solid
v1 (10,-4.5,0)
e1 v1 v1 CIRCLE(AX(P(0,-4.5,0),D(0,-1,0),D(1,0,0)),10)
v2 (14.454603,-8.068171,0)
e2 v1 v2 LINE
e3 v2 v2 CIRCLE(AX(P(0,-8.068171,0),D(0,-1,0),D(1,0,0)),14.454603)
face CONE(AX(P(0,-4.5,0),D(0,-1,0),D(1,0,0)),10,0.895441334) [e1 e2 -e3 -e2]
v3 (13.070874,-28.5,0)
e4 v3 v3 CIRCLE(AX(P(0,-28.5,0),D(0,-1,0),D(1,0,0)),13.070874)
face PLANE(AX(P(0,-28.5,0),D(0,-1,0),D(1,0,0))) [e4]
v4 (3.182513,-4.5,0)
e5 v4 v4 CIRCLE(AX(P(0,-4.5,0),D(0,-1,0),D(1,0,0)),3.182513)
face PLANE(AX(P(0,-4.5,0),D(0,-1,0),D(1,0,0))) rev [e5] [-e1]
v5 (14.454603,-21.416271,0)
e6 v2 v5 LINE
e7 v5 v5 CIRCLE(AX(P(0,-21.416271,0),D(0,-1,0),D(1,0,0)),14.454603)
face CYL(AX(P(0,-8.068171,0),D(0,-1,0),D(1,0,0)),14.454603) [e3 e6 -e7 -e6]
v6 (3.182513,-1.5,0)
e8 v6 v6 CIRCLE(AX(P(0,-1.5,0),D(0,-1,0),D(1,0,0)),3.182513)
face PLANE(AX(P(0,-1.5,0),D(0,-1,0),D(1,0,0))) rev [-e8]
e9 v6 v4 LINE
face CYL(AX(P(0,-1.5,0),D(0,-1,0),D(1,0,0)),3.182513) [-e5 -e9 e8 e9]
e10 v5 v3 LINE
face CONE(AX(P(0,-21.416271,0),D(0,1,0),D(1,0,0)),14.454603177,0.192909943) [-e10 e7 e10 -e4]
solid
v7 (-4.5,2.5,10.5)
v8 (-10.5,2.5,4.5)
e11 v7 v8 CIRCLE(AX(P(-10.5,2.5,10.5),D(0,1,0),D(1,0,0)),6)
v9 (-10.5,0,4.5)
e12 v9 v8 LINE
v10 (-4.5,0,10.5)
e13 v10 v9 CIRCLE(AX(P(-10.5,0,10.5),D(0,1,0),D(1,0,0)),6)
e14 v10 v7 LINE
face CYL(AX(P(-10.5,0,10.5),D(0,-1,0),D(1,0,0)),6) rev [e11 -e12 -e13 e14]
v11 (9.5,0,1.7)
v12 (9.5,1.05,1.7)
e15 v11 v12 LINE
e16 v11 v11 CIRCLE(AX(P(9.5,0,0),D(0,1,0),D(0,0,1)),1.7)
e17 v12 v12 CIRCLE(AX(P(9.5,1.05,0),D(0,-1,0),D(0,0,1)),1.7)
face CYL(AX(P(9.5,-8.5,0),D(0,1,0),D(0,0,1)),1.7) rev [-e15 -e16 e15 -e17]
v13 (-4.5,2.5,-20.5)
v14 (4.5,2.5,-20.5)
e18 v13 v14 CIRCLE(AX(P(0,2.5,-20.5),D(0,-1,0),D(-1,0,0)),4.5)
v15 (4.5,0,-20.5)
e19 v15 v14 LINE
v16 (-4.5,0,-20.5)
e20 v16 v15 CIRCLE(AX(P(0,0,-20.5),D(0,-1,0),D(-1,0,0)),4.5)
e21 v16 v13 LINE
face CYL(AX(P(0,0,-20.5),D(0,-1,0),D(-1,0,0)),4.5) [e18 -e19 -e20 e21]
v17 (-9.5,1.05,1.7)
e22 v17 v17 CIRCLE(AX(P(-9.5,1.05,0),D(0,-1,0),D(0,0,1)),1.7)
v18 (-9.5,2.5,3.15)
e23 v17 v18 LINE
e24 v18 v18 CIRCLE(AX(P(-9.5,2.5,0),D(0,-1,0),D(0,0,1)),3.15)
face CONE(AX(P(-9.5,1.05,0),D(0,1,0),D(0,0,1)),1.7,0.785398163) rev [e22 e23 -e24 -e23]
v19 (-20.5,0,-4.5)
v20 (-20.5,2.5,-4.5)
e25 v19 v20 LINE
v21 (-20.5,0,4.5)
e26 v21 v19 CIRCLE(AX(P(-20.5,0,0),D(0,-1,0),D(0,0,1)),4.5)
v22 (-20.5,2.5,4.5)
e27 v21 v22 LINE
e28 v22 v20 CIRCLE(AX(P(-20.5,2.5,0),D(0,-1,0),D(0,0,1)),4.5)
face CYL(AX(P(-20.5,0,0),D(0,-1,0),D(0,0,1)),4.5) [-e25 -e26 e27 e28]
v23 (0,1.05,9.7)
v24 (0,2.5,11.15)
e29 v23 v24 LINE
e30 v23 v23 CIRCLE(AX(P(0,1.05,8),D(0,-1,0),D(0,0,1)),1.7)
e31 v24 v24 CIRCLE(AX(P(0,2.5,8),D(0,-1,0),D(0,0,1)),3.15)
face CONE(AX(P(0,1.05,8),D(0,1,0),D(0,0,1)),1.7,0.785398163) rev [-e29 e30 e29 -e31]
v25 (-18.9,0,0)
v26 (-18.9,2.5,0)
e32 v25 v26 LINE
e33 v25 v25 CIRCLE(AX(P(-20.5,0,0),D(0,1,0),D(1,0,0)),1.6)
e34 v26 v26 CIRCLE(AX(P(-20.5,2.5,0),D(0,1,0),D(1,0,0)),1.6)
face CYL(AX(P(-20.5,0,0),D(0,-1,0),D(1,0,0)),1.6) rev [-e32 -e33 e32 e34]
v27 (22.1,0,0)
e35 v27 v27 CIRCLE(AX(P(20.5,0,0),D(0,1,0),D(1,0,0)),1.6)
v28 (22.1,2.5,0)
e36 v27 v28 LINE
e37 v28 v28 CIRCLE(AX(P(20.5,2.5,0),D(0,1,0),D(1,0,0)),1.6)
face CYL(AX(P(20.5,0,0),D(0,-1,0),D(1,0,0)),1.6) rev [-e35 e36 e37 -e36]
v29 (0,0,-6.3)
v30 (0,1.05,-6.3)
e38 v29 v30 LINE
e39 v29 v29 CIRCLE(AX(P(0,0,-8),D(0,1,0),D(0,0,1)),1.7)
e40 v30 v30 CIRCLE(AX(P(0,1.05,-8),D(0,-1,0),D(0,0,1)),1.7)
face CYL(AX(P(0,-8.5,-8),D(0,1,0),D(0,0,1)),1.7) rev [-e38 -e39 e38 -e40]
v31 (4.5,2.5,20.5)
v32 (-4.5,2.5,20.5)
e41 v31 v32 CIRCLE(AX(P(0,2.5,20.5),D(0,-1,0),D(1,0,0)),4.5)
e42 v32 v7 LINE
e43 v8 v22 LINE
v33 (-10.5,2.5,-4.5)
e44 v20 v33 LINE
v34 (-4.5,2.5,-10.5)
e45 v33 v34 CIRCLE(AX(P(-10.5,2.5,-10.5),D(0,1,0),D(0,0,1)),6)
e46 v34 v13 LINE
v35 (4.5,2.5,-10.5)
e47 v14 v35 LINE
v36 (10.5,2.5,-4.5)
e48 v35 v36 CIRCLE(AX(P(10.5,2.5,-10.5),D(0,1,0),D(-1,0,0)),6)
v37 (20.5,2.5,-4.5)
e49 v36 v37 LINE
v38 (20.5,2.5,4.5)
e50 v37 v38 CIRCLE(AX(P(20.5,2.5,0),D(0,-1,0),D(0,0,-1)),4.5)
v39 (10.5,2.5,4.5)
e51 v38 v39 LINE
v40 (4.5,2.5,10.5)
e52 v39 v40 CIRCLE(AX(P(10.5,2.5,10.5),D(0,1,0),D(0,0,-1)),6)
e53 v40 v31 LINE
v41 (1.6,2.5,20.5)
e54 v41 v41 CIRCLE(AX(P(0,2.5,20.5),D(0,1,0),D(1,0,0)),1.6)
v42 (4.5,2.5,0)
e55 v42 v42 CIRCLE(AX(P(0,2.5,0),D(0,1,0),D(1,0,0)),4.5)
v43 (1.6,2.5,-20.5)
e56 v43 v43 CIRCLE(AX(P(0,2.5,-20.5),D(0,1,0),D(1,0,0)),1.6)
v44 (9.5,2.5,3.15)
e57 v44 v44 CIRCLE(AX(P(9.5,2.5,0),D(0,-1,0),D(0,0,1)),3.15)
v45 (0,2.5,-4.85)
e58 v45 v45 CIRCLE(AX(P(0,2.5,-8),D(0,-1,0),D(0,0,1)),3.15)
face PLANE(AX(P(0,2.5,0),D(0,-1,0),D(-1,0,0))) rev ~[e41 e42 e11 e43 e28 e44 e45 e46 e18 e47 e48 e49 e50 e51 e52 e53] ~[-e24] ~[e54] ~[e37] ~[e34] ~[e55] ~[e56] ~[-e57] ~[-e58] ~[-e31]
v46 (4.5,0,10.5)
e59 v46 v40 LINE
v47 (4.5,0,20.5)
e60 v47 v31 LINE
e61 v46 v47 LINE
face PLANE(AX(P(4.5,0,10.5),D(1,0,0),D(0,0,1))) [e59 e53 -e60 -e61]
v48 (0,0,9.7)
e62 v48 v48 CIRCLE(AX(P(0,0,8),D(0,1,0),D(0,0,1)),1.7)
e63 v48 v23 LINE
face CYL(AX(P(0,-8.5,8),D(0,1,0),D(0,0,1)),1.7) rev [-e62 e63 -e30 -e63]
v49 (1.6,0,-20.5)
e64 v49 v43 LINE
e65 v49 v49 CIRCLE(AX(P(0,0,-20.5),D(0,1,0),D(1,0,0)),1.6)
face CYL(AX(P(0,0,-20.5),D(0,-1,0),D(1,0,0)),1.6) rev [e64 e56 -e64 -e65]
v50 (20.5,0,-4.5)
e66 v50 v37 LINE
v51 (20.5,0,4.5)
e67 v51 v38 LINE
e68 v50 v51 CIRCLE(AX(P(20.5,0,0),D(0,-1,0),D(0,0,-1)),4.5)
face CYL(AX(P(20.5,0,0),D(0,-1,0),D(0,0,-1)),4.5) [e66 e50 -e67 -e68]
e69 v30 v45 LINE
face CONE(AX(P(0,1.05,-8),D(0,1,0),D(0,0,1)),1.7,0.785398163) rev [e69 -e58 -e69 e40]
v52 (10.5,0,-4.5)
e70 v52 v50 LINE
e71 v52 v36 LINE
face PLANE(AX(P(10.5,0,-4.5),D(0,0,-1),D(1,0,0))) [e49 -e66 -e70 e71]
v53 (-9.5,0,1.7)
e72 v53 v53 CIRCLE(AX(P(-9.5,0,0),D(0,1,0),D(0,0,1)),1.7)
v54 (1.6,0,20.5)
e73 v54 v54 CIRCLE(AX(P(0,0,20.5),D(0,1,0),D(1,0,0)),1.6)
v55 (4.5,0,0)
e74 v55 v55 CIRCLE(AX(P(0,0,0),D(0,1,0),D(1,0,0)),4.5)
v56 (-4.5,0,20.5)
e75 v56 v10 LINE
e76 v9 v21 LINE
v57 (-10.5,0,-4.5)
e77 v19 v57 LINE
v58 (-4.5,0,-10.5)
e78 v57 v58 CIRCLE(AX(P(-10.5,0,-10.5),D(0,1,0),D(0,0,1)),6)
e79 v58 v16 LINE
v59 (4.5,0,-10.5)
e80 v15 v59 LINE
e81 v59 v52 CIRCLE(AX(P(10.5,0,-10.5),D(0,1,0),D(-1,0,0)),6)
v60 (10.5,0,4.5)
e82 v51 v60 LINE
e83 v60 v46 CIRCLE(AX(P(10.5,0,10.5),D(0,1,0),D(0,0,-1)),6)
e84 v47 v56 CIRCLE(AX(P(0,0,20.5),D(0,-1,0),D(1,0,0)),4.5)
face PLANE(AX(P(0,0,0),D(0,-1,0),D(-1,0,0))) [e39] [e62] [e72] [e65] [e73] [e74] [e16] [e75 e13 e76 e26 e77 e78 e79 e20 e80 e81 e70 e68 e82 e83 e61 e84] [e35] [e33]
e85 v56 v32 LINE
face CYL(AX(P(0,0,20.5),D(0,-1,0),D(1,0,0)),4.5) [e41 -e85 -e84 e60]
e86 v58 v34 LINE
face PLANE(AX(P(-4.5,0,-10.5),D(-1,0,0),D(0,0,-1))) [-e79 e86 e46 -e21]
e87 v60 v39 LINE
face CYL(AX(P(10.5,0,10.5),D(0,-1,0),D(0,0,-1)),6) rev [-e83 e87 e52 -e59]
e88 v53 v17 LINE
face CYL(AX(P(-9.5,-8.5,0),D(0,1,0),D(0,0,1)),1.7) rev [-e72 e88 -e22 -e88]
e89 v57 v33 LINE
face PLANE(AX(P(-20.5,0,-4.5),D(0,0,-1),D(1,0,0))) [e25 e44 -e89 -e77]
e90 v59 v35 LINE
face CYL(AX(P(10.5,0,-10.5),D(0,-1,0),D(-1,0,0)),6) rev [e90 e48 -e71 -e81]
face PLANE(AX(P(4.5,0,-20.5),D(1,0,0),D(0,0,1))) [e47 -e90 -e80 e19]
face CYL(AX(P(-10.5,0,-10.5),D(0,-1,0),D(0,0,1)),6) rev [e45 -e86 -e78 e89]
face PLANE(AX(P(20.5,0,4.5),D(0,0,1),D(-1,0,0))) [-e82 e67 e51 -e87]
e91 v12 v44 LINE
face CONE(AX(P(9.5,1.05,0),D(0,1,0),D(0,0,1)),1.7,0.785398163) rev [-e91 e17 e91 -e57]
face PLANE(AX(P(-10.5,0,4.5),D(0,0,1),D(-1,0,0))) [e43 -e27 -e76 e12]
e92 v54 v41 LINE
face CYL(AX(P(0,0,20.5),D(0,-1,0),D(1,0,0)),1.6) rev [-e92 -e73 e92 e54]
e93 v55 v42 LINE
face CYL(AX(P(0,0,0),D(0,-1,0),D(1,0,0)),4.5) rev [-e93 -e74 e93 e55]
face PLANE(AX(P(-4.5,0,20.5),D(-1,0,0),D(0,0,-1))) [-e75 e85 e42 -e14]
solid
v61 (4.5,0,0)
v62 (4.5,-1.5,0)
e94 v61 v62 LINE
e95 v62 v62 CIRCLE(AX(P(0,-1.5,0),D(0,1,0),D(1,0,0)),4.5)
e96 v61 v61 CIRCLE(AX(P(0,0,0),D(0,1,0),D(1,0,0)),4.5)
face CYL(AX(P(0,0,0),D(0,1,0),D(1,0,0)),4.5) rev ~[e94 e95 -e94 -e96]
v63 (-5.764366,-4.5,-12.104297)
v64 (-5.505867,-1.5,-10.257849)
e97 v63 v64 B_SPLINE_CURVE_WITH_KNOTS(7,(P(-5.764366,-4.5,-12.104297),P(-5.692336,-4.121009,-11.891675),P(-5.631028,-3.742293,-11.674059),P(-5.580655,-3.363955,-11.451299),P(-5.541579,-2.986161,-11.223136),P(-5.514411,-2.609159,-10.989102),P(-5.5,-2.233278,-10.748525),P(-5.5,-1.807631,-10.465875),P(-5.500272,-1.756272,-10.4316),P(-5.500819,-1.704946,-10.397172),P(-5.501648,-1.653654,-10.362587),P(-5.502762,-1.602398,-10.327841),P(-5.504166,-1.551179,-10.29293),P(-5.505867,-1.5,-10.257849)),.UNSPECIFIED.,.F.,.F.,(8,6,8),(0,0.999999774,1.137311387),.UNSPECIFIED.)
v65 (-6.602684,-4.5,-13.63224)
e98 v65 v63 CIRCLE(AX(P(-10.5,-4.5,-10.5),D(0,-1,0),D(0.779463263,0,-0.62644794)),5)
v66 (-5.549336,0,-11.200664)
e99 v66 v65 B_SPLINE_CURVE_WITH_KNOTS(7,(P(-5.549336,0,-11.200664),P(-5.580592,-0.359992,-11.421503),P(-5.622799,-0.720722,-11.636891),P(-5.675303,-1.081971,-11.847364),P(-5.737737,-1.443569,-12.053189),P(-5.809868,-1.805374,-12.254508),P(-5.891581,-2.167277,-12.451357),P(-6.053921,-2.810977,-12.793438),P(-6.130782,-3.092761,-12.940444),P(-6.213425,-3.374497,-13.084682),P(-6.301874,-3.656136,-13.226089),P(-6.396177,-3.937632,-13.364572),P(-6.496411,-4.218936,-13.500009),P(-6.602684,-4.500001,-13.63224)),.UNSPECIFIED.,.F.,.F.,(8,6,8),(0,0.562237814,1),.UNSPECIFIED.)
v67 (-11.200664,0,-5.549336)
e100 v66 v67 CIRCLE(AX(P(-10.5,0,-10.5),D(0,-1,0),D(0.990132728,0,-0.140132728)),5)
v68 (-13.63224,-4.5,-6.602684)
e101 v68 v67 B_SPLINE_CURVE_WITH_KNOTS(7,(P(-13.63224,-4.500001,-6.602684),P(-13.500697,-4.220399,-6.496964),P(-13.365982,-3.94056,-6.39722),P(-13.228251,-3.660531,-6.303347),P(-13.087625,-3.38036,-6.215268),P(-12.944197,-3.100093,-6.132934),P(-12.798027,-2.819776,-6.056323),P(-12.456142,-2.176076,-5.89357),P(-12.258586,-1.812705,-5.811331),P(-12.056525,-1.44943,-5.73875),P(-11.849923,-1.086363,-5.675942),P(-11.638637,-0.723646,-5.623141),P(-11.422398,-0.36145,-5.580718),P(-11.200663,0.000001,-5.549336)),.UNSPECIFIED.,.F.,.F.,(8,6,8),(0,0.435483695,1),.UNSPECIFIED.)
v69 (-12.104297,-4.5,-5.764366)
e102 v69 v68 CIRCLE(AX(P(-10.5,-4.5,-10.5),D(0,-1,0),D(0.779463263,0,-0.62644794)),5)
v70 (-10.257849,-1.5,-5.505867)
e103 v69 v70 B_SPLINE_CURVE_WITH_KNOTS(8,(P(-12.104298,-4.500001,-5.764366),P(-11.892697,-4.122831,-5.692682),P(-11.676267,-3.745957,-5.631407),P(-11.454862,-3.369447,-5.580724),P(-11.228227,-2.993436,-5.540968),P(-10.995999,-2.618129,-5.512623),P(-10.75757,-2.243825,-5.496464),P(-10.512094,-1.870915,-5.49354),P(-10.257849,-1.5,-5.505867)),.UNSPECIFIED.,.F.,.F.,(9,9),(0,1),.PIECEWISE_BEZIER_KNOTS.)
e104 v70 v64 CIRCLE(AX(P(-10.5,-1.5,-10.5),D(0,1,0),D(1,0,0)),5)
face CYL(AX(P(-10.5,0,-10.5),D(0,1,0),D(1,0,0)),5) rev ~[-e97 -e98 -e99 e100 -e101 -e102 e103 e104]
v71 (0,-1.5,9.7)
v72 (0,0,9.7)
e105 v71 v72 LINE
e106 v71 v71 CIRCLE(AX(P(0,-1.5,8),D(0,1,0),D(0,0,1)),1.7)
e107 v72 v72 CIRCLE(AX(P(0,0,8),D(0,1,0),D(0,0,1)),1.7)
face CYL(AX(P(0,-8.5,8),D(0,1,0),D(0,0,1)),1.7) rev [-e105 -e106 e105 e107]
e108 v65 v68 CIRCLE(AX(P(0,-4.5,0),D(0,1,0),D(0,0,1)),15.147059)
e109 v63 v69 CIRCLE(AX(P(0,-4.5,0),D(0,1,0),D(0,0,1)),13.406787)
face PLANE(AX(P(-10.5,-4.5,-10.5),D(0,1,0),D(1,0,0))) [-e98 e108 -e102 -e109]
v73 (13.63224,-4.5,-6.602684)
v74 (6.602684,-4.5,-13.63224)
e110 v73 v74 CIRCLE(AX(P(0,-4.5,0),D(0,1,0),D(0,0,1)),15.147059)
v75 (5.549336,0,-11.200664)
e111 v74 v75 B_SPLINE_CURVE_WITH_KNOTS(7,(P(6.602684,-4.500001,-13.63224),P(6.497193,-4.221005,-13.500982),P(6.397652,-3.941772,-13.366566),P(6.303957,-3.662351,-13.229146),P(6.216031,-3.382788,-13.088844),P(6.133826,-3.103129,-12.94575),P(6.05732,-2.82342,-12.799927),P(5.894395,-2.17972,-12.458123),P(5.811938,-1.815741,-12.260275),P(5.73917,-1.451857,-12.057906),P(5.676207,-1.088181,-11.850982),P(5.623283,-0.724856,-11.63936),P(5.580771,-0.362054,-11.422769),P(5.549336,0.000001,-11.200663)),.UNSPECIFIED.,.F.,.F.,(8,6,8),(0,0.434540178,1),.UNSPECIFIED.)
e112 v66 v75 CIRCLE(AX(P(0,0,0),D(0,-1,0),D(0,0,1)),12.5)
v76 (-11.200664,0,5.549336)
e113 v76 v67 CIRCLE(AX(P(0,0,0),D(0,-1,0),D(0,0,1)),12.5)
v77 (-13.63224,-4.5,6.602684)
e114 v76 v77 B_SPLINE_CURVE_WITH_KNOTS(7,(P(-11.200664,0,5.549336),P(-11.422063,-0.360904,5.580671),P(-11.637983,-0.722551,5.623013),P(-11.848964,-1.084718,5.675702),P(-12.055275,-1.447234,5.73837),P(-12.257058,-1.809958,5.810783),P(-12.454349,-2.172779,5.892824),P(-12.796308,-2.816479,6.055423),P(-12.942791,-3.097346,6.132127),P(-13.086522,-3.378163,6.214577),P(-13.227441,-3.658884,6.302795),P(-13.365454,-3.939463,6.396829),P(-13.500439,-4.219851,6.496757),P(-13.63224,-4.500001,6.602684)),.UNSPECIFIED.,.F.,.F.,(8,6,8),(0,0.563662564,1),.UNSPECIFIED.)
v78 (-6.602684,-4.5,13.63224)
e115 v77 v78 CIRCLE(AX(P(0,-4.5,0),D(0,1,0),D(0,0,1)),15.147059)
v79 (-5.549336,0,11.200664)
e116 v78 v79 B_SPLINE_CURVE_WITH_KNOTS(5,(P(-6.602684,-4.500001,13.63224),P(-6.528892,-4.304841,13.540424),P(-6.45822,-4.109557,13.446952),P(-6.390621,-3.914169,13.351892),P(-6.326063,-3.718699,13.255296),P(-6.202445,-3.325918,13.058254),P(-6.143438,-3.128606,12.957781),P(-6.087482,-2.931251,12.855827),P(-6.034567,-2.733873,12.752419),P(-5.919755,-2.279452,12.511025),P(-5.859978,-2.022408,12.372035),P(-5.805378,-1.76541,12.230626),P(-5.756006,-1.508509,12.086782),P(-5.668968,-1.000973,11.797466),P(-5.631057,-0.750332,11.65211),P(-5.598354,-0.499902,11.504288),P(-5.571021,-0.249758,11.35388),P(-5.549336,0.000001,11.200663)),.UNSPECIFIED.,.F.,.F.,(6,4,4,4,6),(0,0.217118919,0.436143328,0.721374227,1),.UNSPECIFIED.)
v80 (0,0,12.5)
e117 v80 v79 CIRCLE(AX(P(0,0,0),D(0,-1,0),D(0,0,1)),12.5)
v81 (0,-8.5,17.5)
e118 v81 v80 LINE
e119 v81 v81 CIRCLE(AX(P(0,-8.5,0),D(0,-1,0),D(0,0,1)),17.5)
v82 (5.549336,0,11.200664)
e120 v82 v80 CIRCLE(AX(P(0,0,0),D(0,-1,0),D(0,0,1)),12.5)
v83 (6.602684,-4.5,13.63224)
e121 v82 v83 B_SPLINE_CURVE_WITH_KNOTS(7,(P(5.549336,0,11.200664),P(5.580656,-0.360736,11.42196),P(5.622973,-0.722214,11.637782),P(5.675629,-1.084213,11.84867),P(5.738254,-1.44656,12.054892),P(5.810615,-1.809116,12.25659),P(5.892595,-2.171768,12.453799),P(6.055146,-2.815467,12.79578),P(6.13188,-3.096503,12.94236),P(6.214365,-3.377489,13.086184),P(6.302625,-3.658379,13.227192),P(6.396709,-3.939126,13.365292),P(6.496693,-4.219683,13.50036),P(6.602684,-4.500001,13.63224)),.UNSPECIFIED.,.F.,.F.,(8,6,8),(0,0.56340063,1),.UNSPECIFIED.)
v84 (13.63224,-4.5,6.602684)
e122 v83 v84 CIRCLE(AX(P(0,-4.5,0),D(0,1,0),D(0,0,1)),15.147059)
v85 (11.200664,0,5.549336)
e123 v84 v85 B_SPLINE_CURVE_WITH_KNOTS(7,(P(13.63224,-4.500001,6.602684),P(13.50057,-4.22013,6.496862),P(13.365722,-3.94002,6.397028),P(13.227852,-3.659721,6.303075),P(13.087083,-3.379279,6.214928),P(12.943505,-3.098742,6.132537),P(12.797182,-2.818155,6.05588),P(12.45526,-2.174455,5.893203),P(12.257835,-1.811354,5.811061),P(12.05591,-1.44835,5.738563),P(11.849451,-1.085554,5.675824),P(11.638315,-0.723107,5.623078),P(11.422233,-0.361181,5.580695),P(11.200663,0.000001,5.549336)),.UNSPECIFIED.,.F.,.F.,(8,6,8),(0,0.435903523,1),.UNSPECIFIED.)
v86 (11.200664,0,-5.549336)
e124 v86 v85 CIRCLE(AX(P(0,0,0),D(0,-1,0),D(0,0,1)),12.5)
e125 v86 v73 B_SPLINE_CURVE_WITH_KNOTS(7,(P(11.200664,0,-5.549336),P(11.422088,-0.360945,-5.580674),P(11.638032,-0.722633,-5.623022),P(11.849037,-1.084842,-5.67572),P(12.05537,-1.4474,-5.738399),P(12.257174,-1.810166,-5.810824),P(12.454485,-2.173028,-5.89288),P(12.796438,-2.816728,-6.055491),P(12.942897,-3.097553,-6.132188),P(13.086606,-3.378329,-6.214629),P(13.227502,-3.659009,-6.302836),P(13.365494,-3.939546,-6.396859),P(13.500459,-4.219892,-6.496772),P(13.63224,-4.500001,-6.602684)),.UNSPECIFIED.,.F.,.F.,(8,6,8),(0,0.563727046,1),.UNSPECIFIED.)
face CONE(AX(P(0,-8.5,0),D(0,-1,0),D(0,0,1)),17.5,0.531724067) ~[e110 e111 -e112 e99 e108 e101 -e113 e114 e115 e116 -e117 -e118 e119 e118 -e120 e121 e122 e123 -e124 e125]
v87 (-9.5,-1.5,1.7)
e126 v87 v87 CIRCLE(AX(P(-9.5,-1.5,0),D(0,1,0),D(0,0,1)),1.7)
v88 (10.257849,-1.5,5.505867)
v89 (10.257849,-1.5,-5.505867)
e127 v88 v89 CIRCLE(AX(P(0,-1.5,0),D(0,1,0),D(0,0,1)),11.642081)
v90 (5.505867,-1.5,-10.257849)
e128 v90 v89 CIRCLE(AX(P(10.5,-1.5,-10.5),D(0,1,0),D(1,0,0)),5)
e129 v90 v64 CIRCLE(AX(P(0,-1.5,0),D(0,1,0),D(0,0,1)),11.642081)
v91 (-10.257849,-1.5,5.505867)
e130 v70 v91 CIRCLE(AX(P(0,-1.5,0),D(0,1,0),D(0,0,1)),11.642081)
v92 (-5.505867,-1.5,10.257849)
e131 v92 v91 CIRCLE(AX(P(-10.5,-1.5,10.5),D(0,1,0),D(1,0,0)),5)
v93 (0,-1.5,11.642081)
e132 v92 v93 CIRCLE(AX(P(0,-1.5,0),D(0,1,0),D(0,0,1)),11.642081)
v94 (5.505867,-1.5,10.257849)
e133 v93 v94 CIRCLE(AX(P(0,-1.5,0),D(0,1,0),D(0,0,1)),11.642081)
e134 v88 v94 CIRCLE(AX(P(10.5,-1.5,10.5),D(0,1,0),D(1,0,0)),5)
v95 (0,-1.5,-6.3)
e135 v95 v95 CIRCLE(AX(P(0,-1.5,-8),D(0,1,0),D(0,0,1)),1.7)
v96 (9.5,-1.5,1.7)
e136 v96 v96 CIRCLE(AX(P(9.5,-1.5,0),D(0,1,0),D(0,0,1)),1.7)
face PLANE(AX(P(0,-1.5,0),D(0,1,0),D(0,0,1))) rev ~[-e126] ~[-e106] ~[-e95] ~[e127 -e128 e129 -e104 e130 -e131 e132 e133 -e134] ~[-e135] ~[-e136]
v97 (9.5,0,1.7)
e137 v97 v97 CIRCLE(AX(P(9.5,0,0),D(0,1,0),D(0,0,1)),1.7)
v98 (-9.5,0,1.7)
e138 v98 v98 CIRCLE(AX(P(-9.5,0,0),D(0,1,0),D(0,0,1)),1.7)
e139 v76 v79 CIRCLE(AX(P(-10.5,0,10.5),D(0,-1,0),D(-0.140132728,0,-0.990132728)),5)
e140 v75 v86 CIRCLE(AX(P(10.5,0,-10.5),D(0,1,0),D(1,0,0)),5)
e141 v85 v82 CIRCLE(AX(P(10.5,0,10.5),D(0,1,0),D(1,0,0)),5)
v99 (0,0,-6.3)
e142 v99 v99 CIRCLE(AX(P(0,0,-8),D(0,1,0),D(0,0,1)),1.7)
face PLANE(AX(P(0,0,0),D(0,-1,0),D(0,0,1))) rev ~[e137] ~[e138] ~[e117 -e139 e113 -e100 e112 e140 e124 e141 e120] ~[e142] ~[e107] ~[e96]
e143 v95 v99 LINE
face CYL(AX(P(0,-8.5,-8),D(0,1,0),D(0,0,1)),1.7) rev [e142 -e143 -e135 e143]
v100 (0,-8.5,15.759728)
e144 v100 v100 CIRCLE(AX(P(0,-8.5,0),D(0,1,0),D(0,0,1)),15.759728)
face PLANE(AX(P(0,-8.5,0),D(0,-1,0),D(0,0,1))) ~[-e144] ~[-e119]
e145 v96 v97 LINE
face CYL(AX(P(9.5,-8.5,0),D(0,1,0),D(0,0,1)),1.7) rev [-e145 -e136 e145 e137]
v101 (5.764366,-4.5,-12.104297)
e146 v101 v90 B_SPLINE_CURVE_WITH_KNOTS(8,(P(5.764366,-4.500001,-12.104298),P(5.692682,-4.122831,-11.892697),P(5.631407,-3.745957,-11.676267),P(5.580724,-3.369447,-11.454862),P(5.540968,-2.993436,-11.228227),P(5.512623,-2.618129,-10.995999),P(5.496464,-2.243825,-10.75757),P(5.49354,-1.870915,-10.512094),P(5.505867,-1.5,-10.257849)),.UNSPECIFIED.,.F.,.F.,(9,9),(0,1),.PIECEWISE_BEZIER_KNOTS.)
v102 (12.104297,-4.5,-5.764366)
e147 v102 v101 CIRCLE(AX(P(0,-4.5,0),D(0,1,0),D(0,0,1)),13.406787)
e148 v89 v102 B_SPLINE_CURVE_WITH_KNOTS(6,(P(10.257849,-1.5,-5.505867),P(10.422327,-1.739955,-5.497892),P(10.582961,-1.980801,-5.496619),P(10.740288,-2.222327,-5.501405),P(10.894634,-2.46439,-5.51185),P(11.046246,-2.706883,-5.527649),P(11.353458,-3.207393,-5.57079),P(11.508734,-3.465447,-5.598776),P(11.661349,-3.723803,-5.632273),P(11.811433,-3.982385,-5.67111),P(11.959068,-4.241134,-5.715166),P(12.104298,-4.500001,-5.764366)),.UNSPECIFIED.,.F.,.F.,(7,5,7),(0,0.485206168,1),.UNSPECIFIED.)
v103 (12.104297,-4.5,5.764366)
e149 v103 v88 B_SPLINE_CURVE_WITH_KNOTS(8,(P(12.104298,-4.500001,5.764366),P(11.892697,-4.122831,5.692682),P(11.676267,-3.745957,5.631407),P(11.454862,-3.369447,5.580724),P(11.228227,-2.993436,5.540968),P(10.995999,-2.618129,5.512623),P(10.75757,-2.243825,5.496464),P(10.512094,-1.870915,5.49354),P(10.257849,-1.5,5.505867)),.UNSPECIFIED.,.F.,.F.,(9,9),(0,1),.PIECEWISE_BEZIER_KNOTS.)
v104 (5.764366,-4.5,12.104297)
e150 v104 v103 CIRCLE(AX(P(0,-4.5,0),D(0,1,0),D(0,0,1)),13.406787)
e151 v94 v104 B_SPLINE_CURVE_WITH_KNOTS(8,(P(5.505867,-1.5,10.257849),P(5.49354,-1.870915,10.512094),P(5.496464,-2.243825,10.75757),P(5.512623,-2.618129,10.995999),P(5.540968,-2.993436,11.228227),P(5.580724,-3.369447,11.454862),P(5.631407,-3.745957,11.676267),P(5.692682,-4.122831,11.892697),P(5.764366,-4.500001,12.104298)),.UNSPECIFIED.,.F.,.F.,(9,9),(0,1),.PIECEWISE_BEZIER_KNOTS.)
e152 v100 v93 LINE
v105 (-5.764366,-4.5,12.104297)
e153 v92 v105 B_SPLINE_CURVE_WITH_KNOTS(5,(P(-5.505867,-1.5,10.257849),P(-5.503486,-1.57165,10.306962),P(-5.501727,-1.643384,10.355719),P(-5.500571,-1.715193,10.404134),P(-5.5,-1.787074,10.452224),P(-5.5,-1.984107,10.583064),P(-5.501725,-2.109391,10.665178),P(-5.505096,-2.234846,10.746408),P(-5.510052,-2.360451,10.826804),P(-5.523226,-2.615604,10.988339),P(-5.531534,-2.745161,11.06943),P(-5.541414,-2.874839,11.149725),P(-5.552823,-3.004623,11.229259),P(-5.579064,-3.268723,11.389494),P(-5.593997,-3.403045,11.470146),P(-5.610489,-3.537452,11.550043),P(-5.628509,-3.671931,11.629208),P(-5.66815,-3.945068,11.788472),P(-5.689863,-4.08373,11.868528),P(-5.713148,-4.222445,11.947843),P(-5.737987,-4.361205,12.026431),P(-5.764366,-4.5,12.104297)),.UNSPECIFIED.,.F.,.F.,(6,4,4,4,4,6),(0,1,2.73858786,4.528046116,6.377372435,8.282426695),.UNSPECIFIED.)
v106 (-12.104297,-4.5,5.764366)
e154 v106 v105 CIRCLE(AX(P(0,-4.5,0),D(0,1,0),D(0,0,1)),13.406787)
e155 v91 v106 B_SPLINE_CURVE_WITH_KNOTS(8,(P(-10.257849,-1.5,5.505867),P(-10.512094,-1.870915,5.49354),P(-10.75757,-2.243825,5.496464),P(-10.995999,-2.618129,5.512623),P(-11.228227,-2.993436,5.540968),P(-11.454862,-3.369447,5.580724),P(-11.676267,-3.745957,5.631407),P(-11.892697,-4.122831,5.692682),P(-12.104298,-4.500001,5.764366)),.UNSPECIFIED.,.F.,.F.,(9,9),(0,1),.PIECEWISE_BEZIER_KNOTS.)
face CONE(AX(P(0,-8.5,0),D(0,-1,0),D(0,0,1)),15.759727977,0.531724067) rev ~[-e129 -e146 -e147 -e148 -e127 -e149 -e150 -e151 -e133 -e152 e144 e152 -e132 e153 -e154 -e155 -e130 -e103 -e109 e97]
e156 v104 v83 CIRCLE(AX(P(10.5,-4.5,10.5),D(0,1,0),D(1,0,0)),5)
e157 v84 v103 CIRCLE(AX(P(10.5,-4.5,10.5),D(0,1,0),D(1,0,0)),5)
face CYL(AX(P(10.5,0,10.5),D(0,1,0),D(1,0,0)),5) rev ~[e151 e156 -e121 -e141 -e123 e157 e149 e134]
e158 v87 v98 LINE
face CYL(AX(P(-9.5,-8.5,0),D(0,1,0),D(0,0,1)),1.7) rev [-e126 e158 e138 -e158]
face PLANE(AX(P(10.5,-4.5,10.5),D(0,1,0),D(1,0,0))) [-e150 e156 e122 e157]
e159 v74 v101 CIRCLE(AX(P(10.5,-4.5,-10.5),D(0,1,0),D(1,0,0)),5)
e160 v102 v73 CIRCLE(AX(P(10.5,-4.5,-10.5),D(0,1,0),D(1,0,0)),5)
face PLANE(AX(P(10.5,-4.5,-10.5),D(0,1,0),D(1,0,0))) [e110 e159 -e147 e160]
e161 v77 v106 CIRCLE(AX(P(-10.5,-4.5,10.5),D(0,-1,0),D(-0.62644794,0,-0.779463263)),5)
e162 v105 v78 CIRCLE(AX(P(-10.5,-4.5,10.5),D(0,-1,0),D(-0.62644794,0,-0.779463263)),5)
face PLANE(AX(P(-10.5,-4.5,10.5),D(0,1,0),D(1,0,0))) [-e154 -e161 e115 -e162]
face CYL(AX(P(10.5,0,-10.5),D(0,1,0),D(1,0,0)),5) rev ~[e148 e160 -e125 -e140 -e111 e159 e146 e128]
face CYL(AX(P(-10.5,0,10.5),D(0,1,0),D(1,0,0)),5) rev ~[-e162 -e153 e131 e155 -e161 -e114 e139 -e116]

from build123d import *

# Parameters (mm, degrees)
SKETCH2_R                                      = 4.5
SKETCH2_R_2                                    = 1.6
BOSS_EXTRUDE1_DEPTH                            = 2.5
SKETCH4_R                                      = 1.5
CUT_EXTRUDE1_DEPTH                             = 3.5
CUT_EXTRUDE1_DEPTH_BACK                        = 9.5
SKETCH5_R                                      = 5
CUT_EXTRUDE2_DEPTH                             = 4.5
SKETCH7_R                                      = 4.5
CUT_EXTRUDE3_DEPTH                             = 9.5000001
CSK_FOR_M3_FLAT_HEAD_MACHINE_SCREW1_AT_2_COUNT = 2
CSK_FOR_M3_FLAT_HEAD_MACHINE_SCREW1_AT_2_PITCH = 12.419742348
CSK_FOR_M3_FLAT_HEAD_MACHINE_SCREW1_AT_3_COUNT = 2
CSK_FOR_M3_FLAT_HEAD_MACHINE_SCREW1_AT_3_PITCH = 19
CSK_FOR_M3_FLAT_HEAD_MACHINE_SCREW1_AT_4_COUNT = 2
CSK_FOR_M3_FLAT_HEAD_MACHINE_SCREW1_AT_4_PITCH = 12.419742348


with BuildPart() as part:
    # Sketch2 → Boss-Extrude1 (new body)
    with BuildSketch(Plane(origin=(0, 0, 0), x_dir=(1, 0, 0), z_dir=(0, 1, 0))):
        with BuildLine():
            Line((4.5, 20.5), (4.5, 10.5))
            ThreePointArc((4.5, 10.5), (6.257359313, 6.257359313), (10.5, 4.5))
            Line((10.5, 4.5), (20.5, 4.5))
            ThreePointArc((20.5, 4.5), (25, 0), (20.5, -4.5))
            Line((20.5, -4.5), (10.5, -4.5))
            ThreePointArc((10.5, -4.5), (6.257359313, -6.257359313), (4.5, -10.5))
            Line((4.5, -10.5), (4.5, -20.5))
            ThreePointArc((4.5, -20.5), (0, -25), (-4.5, -20.5))
            Line((-4.5, -20.5), (-4.5, -10.5))
            ThreePointArc((-4.5, -10.5), (-6.257359313, -6.257359313), (-10.5, -4.5))
            Line((-10.5, -4.5), (-20.5, -4.5))
            ThreePointArc((-20.5, -4.5), (-25, 0), (-20.5, 4.5))
            Line((-20.5, 4.5), (-10.5, 4.5))
            ThreePointArc((-10.5, 4.5), (-6.257359313, 6.257359313), (-4.5, 10.5))
            Line((-4.5, 10.5), (-4.5, 20.5))
            ThreePointArc((-4.5, 20.5), (0, 25), (4.5, 20.5))
        make_face()
        Circle(SKETCH2_R, mode=Mode.SUBTRACT)
        with Locations((0, 20.5)):
            Circle(SKETCH2_R_2, mode=Mode.SUBTRACT)
        with Locations((20.5, 0)):
            Circle(SKETCH2_R_2, mode=Mode.SUBTRACT)
        with Locations((0, -20.5)):
            Circle(SKETCH2_R_2, mode=Mode.SUBTRACT)
        with Locations((-20.5, 0)):
            Circle(SKETCH2_R_2, mode=Mode.SUBTRACT)
    extrude(amount=BOSS_EXTRUDE1_DEPTH)


with BuildPart() as body_2:
    # Sketch3 → Revolve1 (revolve)
    with BuildSketch(Plane(origin=(0, 0, 0), x_dir=(0, 0, -1), z_dir=(1, 0, 0))):
        Polygon((-17.5, -8.5), (-12.5, 0), (0, 0), (0, -8.5), align=None)
    revolve(axis=Axis((0, 0, 0), (0, -1, 0)))


with BuildPart() as cut_extrude1_tool:
    # Sketch4 → Cut-Extrude1 (new body, two sides)
    with BuildSketch(Plane(origin=(0, 0, 0), x_dir=(1, 0, 0), z_dir=(0, 1, 0))) as cut_extrude1_sk:
        with Locations((0, 8)):
            Circle(SKETCH4_R)
        with Locations((0, -8)):
            Circle(SKETCH4_R)
        with Locations((9.5, 0)):
            Circle(SKETCH4_R)
        with Locations((-9.5, 0)):
            Circle(SKETCH4_R)
    extrude(amount=CUT_EXTRUDE1_DEPTH)
    extrude(cut_extrude1_sk.sketch, amount=-CUT_EXTRUDE1_DEPTH_BACK)


with BuildPart() as part_1:
    add(part.part)

    # Cut-Extrude1: cut by cut_extrude1_tool
    add(cut_extrude1_tool.part, mode=Mode.SUBTRACT)


with BuildPart() as body_2_1:
    add(body_2.part)

    # Cut-Extrude1: cut by cut_extrude1_tool
    add(cut_extrude1_tool.part, mode=Mode.SUBTRACT)

    # Sketch5 → Cut-Extrude2 (cut)
    with BuildSketch(Plane(origin=(0, 0, 0), x_dir=(1, 0, 0), z_dir=(0, 1, 0))):
        with Locations((10.5, 10.5)):
            Circle(SKETCH5_R)
        with Locations((10.5, -10.5)):
            Circle(SKETCH5_R)
        with Locations((-10.5, -10.5)):
            Circle(SKETCH5_R)
        with Locations((-10.5, 10.5)):
            Circle(SKETCH5_R)
    extrude(amount=-CUT_EXTRUDE2_DEPTH, mode=Mode.SUBTRACT)

    # Sketch6 → Cut-Revolve1 (revolve, cut)
    with BuildSketch(Plane(origin=(0, 0, 0), x_dir=(0, 0, -1), z_dir=(1, 0, 0))):
        Polygon((-15.759727977, -8.5), (-11.642080919, -1.5), (0, -1.5), (0, -8.5), align=None)
    revolve(axis=Axis((0, -8.5, 0), (0, 1, 0)), mode=Mode.SUBTRACT)

    # Sketch7 → Cut-Extrude3 (cut, through all)
    with BuildSketch(Plane(origin=(0, 0, 0), x_dir=(1, 0, 0), z_dir=(0, 1, 0))):
        Circle(SKETCH7_R)
    extrude(amount=-CUT_EXTRUDE3_DEPTH, mode=Mode.SUBTRACT)


with BuildPart() as csk_for_m3_flat_head_machine_screw1_tool:
    # Sketch8 → CSK for M3 Flat Head Machine Screw1 (revolve)
    with BuildSketch(Plane(origin=(9.5, 2.5, 0), x_dir=(0, 0, 1), z_dir=(1, 0, 0))):
        Polygon((0, 0), (0, 11), (1.7, 11), (1.7, 1.45), (3.15, 0), align=None)
    csk_for_m3_flat_head_machine_screw1 = revolve(axis=Axis((9.5, 8.85, 0), (0, -1, 0)))


with BuildPart() as part_2:
    add(part_1.part)

    # CSK for M3 Flat Head Machine Screw1: cut by csk_for_m3_flat_head_machine_screw1_tool
    add(csk_for_m3_flat_head_machine_screw1_tool.part, mode=Mode.SUBTRACT)


with BuildPart() as body_2_2:
    add(body_2_1.part)

    # CSK for M3 Flat Head Machine Screw1: cut by csk_for_m3_flat_head_machine_screw1_tool
    add(csk_for_m3_flat_head_machine_screw1_tool.part, mode=Mode.SUBTRACT)


with BuildPart() as csk_for_m3_flat_head_machine_screw1_at_2_tool:
    # CSK for M3 Flat Head Machine Screw1 at 2: CSK for M3 Flat Head Machine Screw1 ×2
    with Locations(*[Vector(-0.764911198, 0, 0.644135746) * (i * CSK_FOR_M3_FLAT_HEAD_MACHINE_SCREW1_AT_2_PITCH) for i in range(1, CSK_FOR_M3_FLAT_HEAD_MACHINE_SCREW1_AT_2_COUNT)]):
        add(csk_for_m3_flat_head_machine_screw1)


with BuildPart() as part_3:
    add(part_2.part)

    # CSK for M3 Flat Head Machine Screw1 at 2: cut by csk_for_m3_flat_head_machine_screw1_at_2_tool
    add(csk_for_m3_flat_head_machine_screw1_at_2_tool.part, mode=Mode.SUBTRACT)


with BuildPart() as body_2_3:
    add(body_2_2.part)

    # CSK for M3 Flat Head Machine Screw1 at 2: cut by csk_for_m3_flat_head_machine_screw1_at_2_tool
    add(csk_for_m3_flat_head_machine_screw1_at_2_tool.part, mode=Mode.SUBTRACT)


with BuildPart() as csk_for_m3_flat_head_machine_screw1_at_3_tool:
    # CSK for M3 Flat Head Machine Screw1 at 3: CSK for M3 Flat Head Machine Screw1 ×2
    with Locations(*[(-i * CSK_FOR_M3_FLAT_HEAD_MACHINE_SCREW1_AT_3_PITCH, 0, 0) for i in range(1, CSK_FOR_M3_FLAT_HEAD_MACHINE_SCREW1_AT_3_COUNT)]):
        add(csk_for_m3_flat_head_machine_screw1)


with BuildPart() as part_4:
    add(part_3.part)

    # CSK for M3 Flat Head Machine Screw1 at 3: cut by csk_for_m3_flat_head_machine_screw1_at_3_tool
    add(csk_for_m3_flat_head_machine_screw1_at_3_tool.part, mode=Mode.SUBTRACT)


with BuildPart() as body_2_4:
    add(body_2_3.part)

    # CSK for M3 Flat Head Machine Screw1 at 3: cut by csk_for_m3_flat_head_machine_screw1_at_3_tool
    add(csk_for_m3_flat_head_machine_screw1_at_3_tool.part, mode=Mode.SUBTRACT)


with BuildPart() as csk_for_m3_flat_head_machine_screw1_at_4_tool:
    # CSK for M3 Flat Head Machine Screw1 at 4: CSK for M3 Flat Head Machine Screw1 ×2
    with Locations(*[Vector(-0.764911198, 0, -0.644135746) * (i * CSK_FOR_M3_FLAT_HEAD_MACHINE_SCREW1_AT_4_PITCH) for i in range(1, CSK_FOR_M3_FLAT_HEAD_MACHINE_SCREW1_AT_4_COUNT)]):
        add(csk_for_m3_flat_head_machine_screw1)


with BuildPart() as part_5:
    add(part_4.part)

    # CSK for M3 Flat Head Machine Screw1 at 4: cut by csk_for_m3_flat_head_machine_screw1_at_4_tool
    add(csk_for_m3_flat_head_machine_screw1_at_4_tool.part, mode=Mode.SUBTRACT)


with BuildPart() as body_2_5:
    add(body_2_4.part)

    # CSK for M3 Flat Head Machine Screw1 at 4: cut by csk_for_m3_flat_head_machine_screw1_at_4_tool
    add(csk_for_m3_flat_head_machine_screw1_at_4_tool.part, mode=Mode.SUBTRACT)


with BuildPart() as body_3:
    # Sketch10 → Revolve2 (revolve)
    with BuildSketch(Plane.XY):
        Polygon((0, -1.5), (3.182512776, -1.5), (3.182512776, -4.5), (10, -4.5), (14.454603177, -8.068170721), (14.454603177, -21.416270618), (13.070873795, -28.5), (0, -28.5), align=None)
    revolve(axis=Axis((0, -1.5, 0), (0, -1, 0)))


solid = Compound([part_5.part, body_2_5.part, body_3.part])
